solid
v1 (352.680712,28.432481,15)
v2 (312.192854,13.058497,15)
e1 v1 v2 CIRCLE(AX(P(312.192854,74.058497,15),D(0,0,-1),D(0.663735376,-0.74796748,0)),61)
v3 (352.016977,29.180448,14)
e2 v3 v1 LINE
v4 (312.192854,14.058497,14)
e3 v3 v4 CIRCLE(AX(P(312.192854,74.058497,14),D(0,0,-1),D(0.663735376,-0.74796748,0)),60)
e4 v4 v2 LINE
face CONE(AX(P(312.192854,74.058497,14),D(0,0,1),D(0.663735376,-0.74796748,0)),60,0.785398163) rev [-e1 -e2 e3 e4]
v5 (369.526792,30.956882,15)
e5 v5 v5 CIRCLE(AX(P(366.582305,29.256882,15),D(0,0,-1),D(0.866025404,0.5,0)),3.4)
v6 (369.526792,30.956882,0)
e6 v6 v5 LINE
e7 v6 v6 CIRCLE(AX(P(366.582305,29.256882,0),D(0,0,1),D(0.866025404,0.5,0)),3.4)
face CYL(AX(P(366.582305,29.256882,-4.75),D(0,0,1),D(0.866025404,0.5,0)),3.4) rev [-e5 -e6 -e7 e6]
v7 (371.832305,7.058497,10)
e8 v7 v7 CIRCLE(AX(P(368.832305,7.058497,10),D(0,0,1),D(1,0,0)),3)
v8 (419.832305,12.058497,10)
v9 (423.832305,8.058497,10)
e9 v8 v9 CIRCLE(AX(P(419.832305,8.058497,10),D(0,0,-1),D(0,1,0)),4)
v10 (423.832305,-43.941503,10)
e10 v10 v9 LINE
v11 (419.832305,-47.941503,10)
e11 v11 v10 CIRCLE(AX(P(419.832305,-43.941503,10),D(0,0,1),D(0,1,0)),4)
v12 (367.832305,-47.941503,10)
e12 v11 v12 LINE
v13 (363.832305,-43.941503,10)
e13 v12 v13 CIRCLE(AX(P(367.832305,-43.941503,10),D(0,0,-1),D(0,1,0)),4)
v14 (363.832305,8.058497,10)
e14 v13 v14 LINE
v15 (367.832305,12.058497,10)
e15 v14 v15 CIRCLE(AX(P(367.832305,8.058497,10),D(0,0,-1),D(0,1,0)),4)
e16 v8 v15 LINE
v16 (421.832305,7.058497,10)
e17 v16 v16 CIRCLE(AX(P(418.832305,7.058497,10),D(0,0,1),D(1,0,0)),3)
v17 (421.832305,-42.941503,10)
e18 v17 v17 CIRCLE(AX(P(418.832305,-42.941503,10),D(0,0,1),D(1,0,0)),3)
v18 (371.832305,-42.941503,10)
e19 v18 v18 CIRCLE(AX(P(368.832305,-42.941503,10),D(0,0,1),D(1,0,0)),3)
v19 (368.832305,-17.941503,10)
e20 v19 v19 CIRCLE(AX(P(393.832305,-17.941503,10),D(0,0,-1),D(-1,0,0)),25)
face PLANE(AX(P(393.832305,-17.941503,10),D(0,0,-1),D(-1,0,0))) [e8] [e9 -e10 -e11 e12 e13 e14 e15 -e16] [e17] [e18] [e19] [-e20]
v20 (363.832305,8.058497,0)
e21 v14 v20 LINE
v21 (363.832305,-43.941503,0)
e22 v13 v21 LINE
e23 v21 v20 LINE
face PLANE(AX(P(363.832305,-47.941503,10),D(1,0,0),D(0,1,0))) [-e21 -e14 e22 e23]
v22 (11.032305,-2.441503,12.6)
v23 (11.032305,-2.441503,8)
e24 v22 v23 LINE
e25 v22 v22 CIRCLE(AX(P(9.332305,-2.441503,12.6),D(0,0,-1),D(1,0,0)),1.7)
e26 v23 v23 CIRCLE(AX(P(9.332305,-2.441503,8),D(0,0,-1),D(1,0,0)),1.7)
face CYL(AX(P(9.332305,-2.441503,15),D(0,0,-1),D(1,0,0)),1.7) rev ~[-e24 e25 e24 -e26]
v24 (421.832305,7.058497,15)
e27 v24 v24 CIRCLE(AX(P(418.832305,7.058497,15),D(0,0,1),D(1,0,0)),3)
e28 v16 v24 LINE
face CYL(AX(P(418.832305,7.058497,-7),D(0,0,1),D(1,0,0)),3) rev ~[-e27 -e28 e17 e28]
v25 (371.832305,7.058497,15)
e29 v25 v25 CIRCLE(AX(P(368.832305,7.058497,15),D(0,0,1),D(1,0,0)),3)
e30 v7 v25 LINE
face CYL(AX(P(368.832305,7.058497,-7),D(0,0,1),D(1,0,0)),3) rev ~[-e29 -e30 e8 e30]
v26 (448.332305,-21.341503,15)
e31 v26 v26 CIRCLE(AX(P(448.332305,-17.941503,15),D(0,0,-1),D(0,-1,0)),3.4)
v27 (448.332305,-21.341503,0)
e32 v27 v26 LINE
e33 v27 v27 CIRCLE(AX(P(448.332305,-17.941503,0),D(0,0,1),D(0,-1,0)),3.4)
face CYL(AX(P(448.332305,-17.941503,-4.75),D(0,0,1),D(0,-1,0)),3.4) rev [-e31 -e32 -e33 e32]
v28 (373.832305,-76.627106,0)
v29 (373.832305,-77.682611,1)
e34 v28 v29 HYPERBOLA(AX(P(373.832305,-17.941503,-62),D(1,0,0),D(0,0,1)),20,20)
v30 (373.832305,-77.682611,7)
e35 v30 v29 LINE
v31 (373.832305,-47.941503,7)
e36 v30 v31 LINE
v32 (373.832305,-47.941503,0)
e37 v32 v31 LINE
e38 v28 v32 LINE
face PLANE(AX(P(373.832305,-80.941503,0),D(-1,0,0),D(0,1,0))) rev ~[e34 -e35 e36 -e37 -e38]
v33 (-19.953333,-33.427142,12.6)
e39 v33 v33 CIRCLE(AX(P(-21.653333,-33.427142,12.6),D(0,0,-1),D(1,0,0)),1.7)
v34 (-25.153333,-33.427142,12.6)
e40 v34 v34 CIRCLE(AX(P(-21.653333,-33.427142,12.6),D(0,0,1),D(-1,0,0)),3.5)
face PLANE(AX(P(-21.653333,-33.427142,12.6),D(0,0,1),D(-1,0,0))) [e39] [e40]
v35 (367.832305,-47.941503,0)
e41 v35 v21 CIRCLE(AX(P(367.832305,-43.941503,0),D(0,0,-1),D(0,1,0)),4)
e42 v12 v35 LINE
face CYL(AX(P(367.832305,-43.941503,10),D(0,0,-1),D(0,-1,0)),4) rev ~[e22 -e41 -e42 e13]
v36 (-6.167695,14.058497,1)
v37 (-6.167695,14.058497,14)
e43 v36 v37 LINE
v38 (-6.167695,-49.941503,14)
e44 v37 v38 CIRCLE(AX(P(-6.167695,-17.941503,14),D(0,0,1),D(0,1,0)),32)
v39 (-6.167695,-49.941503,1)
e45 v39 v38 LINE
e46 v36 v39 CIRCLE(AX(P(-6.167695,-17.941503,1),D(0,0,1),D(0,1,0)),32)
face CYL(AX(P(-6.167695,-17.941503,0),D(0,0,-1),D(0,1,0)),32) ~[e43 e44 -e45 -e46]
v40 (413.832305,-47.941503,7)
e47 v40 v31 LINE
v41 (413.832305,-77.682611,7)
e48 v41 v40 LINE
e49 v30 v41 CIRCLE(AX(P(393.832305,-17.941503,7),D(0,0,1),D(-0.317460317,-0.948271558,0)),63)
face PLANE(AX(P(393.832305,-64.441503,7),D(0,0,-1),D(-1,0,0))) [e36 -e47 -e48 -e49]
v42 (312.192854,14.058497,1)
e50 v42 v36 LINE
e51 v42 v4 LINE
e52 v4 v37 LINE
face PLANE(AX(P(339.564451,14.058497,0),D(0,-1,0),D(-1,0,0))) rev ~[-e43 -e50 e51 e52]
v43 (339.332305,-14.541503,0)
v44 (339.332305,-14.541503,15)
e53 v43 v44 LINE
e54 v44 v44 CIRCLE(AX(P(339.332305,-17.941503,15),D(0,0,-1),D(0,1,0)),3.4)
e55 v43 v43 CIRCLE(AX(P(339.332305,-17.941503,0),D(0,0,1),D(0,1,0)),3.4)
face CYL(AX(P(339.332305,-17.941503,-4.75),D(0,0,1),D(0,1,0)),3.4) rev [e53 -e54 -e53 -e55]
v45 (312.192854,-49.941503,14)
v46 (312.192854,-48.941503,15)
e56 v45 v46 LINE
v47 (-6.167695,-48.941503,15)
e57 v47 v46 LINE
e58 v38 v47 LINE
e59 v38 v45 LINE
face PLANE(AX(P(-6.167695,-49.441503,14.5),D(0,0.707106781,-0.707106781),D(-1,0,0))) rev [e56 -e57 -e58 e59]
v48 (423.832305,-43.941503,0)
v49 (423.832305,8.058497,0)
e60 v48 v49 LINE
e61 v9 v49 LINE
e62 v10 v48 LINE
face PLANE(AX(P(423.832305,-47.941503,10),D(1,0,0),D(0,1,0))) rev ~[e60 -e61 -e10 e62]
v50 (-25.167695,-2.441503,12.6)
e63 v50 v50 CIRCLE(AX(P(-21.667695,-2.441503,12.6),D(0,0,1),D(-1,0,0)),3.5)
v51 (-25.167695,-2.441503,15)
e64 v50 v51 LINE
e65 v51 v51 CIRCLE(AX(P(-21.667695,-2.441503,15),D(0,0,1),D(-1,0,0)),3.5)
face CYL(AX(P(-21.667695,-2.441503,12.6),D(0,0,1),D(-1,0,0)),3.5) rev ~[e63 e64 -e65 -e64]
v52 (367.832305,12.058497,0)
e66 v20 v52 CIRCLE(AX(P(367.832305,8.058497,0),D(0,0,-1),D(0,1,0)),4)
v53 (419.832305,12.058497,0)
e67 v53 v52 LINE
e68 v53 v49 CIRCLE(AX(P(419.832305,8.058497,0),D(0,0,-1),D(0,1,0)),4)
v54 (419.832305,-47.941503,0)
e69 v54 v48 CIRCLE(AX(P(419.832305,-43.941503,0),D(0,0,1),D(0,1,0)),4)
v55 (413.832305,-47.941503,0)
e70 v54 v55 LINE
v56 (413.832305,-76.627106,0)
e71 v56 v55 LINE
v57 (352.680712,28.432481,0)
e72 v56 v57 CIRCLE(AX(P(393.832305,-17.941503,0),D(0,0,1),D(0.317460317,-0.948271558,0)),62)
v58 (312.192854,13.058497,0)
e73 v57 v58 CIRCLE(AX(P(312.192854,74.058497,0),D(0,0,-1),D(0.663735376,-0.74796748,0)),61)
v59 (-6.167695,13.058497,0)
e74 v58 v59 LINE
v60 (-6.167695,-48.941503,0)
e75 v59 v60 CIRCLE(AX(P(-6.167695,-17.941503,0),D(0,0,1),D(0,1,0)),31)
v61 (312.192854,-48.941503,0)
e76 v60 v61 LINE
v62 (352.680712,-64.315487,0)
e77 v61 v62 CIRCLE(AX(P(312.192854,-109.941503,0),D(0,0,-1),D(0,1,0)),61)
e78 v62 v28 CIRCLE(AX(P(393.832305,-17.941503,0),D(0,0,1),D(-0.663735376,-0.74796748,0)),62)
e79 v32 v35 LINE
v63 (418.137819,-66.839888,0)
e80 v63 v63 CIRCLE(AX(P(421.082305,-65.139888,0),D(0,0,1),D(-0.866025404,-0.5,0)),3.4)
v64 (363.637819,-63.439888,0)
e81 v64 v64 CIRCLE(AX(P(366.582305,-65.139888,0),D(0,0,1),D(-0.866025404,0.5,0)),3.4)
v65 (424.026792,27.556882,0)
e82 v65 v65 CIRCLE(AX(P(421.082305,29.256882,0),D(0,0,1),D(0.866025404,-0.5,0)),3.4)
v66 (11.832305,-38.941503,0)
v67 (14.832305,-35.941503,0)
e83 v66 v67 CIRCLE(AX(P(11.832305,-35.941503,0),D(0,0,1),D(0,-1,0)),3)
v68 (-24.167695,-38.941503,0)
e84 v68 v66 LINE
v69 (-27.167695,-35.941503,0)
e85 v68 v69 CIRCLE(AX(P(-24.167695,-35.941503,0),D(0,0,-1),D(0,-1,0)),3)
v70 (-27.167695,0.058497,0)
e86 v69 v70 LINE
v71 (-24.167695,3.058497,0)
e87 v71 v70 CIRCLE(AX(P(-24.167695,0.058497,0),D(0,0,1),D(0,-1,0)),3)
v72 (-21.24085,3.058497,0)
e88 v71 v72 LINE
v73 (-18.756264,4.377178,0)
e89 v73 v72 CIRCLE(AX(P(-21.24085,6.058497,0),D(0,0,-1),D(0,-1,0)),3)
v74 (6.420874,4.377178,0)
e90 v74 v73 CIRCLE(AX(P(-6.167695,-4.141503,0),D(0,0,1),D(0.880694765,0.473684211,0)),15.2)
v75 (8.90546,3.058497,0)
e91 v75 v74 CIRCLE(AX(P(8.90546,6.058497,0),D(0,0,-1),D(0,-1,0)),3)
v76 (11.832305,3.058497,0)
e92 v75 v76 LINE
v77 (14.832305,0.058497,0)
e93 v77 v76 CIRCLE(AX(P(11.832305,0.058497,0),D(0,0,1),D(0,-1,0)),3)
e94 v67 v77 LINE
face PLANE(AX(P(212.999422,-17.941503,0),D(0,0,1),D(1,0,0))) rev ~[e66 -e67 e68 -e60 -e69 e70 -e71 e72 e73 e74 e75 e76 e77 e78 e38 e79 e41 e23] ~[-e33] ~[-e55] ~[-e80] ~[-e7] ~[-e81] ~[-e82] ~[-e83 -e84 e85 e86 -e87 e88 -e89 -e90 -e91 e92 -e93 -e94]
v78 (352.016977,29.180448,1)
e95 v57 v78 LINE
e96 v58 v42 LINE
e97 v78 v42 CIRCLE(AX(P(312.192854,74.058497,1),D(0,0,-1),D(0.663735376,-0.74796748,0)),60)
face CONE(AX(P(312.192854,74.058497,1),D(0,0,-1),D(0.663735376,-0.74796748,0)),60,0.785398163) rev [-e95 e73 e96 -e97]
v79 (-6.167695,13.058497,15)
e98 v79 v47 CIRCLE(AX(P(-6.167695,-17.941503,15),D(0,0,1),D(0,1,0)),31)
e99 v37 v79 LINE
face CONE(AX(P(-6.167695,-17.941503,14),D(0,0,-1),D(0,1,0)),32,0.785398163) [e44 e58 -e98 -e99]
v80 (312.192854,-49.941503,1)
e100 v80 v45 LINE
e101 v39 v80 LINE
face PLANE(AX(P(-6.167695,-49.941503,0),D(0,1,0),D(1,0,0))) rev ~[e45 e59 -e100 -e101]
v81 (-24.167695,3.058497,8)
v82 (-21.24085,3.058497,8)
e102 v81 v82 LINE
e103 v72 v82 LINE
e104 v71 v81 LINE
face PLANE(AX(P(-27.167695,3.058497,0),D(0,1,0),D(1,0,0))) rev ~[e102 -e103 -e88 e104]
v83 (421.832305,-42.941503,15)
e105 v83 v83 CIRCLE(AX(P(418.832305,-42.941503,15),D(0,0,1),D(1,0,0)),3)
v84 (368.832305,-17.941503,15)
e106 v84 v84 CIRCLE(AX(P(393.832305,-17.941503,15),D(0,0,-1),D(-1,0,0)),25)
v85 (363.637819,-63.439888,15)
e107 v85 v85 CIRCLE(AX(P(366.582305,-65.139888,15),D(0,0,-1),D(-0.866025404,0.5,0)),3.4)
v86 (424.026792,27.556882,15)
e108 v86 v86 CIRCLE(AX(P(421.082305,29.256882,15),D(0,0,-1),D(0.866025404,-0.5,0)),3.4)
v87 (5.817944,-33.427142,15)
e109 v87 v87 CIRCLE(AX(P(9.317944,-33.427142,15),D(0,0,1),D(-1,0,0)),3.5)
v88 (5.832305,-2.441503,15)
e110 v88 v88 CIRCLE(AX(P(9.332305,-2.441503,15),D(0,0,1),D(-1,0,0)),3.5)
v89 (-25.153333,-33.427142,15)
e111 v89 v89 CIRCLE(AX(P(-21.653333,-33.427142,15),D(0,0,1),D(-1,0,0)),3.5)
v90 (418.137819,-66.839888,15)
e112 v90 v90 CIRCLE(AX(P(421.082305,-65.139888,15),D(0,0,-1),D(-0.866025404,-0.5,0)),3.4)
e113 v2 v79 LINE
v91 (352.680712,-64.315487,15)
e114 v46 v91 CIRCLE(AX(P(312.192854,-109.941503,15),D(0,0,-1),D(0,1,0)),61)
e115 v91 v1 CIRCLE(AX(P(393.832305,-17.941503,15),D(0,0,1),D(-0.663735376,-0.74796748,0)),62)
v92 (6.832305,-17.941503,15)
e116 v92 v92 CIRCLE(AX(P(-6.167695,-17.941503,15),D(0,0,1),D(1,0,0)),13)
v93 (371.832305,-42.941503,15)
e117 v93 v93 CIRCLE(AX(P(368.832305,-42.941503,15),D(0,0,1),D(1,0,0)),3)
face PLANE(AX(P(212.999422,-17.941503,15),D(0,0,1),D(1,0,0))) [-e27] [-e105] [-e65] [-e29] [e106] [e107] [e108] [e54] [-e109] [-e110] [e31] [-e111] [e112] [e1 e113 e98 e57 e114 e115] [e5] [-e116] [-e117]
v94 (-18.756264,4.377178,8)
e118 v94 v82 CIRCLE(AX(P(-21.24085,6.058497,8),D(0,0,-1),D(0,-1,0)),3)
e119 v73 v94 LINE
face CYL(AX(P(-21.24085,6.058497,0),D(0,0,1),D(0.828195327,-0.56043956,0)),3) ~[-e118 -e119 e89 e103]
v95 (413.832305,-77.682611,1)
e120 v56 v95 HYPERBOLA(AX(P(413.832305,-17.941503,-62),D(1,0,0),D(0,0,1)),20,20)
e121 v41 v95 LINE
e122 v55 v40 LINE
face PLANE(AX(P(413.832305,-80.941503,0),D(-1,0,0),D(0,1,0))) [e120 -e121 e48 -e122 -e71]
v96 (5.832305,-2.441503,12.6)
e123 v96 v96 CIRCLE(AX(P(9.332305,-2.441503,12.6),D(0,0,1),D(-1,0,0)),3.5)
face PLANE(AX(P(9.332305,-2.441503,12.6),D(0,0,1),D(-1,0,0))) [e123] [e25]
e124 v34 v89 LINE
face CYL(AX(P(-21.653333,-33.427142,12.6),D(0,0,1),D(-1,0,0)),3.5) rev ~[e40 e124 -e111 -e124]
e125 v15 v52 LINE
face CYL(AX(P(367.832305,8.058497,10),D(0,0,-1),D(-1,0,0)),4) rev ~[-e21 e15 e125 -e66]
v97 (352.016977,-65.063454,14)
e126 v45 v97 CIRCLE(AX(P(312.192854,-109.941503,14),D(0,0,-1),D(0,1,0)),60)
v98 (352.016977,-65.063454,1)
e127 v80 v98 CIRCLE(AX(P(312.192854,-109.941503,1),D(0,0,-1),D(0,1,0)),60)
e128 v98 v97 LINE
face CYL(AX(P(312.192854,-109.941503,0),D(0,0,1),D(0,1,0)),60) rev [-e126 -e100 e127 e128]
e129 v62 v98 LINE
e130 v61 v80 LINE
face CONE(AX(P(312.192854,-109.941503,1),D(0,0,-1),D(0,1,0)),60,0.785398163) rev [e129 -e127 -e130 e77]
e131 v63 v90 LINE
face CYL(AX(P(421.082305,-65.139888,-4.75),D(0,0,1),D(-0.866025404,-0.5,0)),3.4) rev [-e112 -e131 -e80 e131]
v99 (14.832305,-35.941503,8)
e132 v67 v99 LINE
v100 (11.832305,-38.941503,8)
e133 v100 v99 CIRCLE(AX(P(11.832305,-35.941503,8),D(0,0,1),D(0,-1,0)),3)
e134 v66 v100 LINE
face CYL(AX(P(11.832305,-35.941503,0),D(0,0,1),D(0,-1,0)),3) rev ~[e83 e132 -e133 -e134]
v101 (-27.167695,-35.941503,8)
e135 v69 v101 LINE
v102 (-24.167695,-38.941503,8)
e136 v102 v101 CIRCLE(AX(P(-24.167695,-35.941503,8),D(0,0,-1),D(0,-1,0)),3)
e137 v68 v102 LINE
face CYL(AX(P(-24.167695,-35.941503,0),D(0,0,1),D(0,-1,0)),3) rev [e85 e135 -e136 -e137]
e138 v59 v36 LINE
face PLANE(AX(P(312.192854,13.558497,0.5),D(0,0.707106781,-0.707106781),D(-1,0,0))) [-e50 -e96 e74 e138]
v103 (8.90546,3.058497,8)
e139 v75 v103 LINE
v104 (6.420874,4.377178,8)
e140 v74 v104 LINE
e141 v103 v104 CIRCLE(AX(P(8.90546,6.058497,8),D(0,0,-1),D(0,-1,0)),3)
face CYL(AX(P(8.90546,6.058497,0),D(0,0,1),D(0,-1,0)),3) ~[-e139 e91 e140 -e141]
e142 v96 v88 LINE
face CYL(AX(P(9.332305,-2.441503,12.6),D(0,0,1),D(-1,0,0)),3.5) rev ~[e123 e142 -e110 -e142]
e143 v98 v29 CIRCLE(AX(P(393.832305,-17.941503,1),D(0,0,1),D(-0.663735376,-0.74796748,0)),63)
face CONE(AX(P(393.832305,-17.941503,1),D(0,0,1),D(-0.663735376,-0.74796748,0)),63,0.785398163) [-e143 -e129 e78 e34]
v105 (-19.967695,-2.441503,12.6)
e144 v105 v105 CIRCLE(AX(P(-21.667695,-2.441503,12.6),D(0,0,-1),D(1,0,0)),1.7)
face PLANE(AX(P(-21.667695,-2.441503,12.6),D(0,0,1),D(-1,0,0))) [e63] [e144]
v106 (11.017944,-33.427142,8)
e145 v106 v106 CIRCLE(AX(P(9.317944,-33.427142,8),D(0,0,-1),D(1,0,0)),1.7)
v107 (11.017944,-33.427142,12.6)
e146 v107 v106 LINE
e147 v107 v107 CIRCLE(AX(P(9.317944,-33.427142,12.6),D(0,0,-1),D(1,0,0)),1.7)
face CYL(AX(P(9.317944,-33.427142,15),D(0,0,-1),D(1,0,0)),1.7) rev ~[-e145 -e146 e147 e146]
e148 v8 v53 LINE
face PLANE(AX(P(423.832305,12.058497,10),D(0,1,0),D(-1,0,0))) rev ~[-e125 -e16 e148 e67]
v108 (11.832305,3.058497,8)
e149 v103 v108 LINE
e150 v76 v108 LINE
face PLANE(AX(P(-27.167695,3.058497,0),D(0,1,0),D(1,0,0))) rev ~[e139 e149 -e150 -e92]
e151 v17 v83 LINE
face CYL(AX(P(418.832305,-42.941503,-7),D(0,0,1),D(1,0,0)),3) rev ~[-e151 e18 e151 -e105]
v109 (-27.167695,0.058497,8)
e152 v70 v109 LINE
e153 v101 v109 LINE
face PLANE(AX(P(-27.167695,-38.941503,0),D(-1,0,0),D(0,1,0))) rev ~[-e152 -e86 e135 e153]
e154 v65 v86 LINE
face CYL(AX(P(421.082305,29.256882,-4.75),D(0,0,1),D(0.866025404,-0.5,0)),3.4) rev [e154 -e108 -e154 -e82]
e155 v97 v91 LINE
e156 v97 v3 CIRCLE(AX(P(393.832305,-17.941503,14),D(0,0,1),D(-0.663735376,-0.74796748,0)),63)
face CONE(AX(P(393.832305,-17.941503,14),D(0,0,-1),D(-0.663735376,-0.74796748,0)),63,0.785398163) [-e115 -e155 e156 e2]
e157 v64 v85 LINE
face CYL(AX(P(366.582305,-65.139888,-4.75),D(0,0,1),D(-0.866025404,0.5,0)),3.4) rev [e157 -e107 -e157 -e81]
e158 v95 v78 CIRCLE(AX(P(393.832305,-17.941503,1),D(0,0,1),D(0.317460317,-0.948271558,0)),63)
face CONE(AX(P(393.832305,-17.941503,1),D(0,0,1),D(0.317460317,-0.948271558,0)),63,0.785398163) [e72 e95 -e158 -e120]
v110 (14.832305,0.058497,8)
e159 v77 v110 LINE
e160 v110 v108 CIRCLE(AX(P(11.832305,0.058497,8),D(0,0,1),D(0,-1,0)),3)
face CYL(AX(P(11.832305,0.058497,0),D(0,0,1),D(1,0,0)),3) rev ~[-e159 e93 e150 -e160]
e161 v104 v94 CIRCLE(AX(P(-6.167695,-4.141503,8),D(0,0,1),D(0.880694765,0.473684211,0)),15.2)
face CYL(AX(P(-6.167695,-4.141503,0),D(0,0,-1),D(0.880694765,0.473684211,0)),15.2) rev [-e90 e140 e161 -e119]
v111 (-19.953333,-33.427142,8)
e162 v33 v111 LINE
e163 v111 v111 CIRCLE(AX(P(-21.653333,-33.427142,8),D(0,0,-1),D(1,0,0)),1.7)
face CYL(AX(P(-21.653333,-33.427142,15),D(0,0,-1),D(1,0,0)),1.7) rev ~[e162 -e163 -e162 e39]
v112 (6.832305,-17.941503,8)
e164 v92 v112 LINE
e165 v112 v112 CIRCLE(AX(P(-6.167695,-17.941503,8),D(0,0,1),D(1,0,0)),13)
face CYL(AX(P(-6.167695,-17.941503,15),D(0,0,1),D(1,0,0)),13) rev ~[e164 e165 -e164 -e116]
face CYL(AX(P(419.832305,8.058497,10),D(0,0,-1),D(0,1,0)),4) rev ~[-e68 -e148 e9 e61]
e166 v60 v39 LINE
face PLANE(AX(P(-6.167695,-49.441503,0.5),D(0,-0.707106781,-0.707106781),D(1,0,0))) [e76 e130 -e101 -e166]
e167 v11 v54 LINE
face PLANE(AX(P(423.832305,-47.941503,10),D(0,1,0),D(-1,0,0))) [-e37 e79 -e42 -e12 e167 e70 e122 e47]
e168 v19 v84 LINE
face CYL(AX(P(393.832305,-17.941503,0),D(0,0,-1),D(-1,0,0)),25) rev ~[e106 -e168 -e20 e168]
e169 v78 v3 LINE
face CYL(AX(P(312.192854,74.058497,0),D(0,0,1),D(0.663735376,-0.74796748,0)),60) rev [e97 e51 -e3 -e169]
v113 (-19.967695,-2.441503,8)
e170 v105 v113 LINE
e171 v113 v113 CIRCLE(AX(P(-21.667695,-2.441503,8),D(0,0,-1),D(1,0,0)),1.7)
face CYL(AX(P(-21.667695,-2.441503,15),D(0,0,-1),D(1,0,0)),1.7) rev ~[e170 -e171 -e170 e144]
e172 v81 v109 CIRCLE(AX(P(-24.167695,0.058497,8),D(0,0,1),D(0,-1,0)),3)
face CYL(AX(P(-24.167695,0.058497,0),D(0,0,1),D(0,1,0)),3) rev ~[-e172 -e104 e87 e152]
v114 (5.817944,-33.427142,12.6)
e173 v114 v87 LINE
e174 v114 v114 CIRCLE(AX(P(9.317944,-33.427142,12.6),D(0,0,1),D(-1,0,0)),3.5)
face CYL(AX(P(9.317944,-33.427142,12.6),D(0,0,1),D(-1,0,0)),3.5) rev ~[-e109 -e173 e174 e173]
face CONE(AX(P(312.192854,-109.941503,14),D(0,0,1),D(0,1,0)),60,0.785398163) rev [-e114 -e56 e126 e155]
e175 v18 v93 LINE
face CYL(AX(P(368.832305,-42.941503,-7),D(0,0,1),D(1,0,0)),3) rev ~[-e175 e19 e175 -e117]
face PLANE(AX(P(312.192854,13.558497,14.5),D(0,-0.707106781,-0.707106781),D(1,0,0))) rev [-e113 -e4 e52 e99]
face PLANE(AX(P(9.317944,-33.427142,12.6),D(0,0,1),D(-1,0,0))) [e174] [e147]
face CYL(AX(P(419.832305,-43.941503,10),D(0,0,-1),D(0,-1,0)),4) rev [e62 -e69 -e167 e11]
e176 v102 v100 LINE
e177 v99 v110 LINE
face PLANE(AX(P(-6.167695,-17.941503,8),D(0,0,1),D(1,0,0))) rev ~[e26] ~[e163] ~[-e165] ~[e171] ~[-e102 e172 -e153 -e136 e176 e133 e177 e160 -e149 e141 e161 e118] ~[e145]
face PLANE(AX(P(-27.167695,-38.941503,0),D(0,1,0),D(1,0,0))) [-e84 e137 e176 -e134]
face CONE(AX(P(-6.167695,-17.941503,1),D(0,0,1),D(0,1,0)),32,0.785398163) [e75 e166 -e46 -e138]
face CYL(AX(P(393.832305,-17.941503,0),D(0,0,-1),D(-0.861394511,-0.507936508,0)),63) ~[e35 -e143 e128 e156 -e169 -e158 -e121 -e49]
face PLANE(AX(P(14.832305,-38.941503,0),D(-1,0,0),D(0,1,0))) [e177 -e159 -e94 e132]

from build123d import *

# Parameters (mm, degrees)
BOSS_EXTRUDE1_DEPTH                      = 15
FILLET1_R                                = 60
SKETCH_2_R                               = 25
CUT_EXTRUDE_2_DEPTH                      = 16
CUT_EXTRUDE_START                        = -10
SKETCH_1_W                               = 60
SKETCH_1_H                               = 60
CUT_EXTRUDE_1_DEPTH                      = 10
SKETCH_3_W                               = 40
SKETCH_3_H                               = 33
CUT_EXTRUDE_3_DEPTH                      = 7
M7X1_0_1_D                               = 6
M7X1_0_1_DEPTH                           = 17
M7X1_0_1_TIP                             = 1.802581857
PATTERN_CIRCULAR_1_COUNT                 = 6
SKETCH5_R                                = 13
CUT_EXTRUDE2_DEPTH                       = 16
CUT_EXTRUDE1_START                       = -15
SKETCH4_W                                = 42
SKETCH4_H                                = 42
CUT_EXTRUDE1_DEPTH                       = 8
CUT_EXTRUDE3_START                       = -15
CUT_EXTRUDE3_DEPTH                       = 8
FILLET2_R                                = 3
CHAMFER1_SIZE                            = 1
CBORE_FOR_M3_PAN_HEAD_SCREW1_D           = 3.4
CBORE_FOR_M3_PAN_HEAD_SCREW1_CBORE_D     = 7
CBORE_FOR_M3_PAN_HEAD_SCREW1_CBORE_DEPTH = 2.4
FILLET6_R                                = 4


with BuildPart() as part:
    # Sketch2 → Boss-Extrude1 (new body)
    with BuildSketch(Plane.XY):
        with BuildLine():
            Line((-6.167694754, -49.941502997), (339.564451041, -49.941502997))
            ThreePointArc((339.564451041, -49.941502997), (456.832305246, -17.941502997), (339.564451041, 14.058497003))
            Line((339.564451041, 14.058497003), (-6.167694754, 14.058497003))
            ThreePointArc((-6.167694754, 14.058497003), (-38.167694754, -17.941502997), (-6.167694754, -49.941502997))
        make_face()
    extrude(amount=BOSS_EXTRUDE1_DEPTH)

    # Fillet1
    fillet1_edges = [part.edges().sort_by_distance(p)[0] for p in [
        (339.564451041, 14.058497003, 7.5),
        (339.564451041, -49.941502997, 7.5),
    ]]
    fillet(fillet1_edges, radius=FILLET1_R)

    # 草圖2 → 除料-伸長2 (cut, through all)
    with BuildSketch(Plane(origin=(0, 0, 0), x_dir=(-1, 0, 0), z_dir=(0, 0, -1))):
        with Locations((-393.832305246, -17.941502997)):
            Circle(SKETCH_2_R)
    extrude(amount=-CUT_EXTRUDE_2_DEPTH, mode=Mode.SUBTRACT)

    # 草圖1 → 除料-伸長1 (cut)
    with BuildSketch(Plane(origin=(0, 0, 0), x_dir=(-1, 0, 0), z_dir=(0, 0, -1)).offset(CUT_EXTRUDE_START)):
        with Locations((-393.832305246, -17.941502997)):
            Rectangle(SKETCH_1_W, SKETCH_1_H)
    extrude(amount=CUT_EXTRUDE_1_DEPTH, mode=Mode.SUBTRACT)

    # 草圖3 → 除料-伸長3 (cut)
    with BuildSketch(Plane(origin=(0, 0, 0), x_dir=(-1, 0, 0), z_dir=(0, 0, -1))):
        with Locations((-393.832305246, -64.441502997)):
            Rectangle(SKETCH_3_W, SKETCH_3_H)
    extrude(amount=-CUT_EXTRUDE_3_DEPTH, mode=Mode.SUBTRACT)

    # M7x1.0 螺紋孔1
    with Locations(Plane(origin=(0, 0, 10), x_dir=(-1, 0, 0), z_dir=(0, 0, -1))):
        with Locations((-368.832305246, 7.058497003), (-368.832305246, -42.941502997), (-418.832305246, -42.941502997), (-418.832305246, 7.058497003)):
            Hole(M7X1_0_1_D / 2, depth=M7X1_0_1_DEPTH)
            with Locations((0, 0, -(M7X1_0_1_DEPTH + M7X1_0_1_TIP / 2))):  # 118° drill point
                Cone(0, M7X1_0_1_D / 2, M7X1_0_1_TIP, mode=Mode.SUBTRACT)

    # 草圖8 → M8x1.25 螺紋孔1 (revolve, cut)
    with BuildSketch(Plane(origin=(448.332305246, -17.941502997, 15), x_dir=(0, -1, 0), z_dir=(1, 0, 0))):
        Polygon((0, 0), (0, 21.792926105), (3.4, 19.75), (3.4, 0), align=None)
    m8x1_25_1 = revolve(axis=Axis((448.332305246, -17.941502997, 21.35), (0, 0, -1)), mode=Mode.SUBTRACT)

    # 環狀複製排列1: M8x1.25 螺紋孔1 ×6 about axis
    pattern_circular_1_axis = Axis((393.832305246, -17.941502997, 0), (0, 0, 1))
    for i in range(1, PATTERN_CIRCULAR_1_COUNT):
        add(m8x1_25_1.rotate(pattern_circular_1_axis, i * 360 / PATTERN_CIRCULAR_1_COUNT), mode=Mode.SUBTRACT)

    # Sketch5 → Cut-Extrude2 (cut, through all)
    with BuildSketch(Plane.XY.offset(15)):
        with Locations((-6.167694754, -17.941502997)):
            Circle(SKETCH5_R)
    extrude(amount=-CUT_EXTRUDE2_DEPTH, mode=Mode.SUBTRACT)

    # Sketch4 → Cut-Extrude1 (cut)
    with BuildSketch(Plane.XY.offset(15).offset(CUT_EXTRUDE1_START)):
        with Locations((-6.167694754, -17.941502997)):
            Rectangle(SKETCH4_W, SKETCH4_H)
    extrude(amount=CUT_EXTRUDE1_DEPTH, mode=Mode.SUBTRACT)

    # Sketch8 → Cut-Extrude3 (cut)
    with BuildSketch(Plane.XY.offset(15).offset(CUT_EXTRUDE3_START)):
        with BuildLine():
            Line((-19.554255179, 3.058497003), (7.21886567, 3.058497003))
            ThreePointArc((7.21886567, 3.058497003), (-6.167694754, 11.058497003), (-19.554255179, 3.058497003))
        make_face()
    extrude(amount=CUT_EXTRUDE3_DEPTH, mode=Mode.SUBTRACT)

    # Fillet2
    fillet2_edges = [part.edges().sort_by_distance(p)[0] for p in [
        (-27.167694754, 3.058497003, 4),
        (-27.167694754, -38.941502997, 4),
        (14.832305246, -38.941502997, 4),
        (14.832305246, 3.058497003, 4),
        (7.21886567, 3.058497003, 4),
        (-19.554255179, 3.058497003, 4),
    ]]
    fillet(fillet2_edges, radius=FILLET2_R)

    # Chamfer1
    chamfer1_edges = [part.edges().sort_by_distance(p)[0] for p in [
        (153.012579622, 14.058497003, 0),
        (153.012579622, 14.058497003, 15),
        (362.287186837, -72.475029424, 0),
        (456.832305246, -17.941502997, 15),
        (333.492115408, 17.966238505, 0),
        (333.492115408, 17.966238505, 15),
        (333.492115408, -53.849244499, 0),
        (333.492115408, -53.849244499, 15),
        (-38.167694754, -17.941502997, 15),
        (448.365831673, 13.603615412, 0),
        (153.012579622, -49.941502997, 0),
        (-38.167694754, -17.941502997, 0),
        (153.012579622, -49.941502997, 15),
    ]]
    chamfer(chamfer1_edges, length=CHAMFER1_SIZE)

    # CBORE for M3 Pan Head Screw1 (through all)
    with Locations(Plane(origin=(0, 0, 15), x_dir=(-1, 0, 0), z_dir=(0, 0, 1))):
        with Locations((21.667694754, 2.441502997), (21.653333262, 33.427141505), (-9.317943754, 33.427141505), (-9.332305246, 2.441502997)):
            CounterBoreHole(CBORE_FOR_M3_PAN_HEAD_SCREW1_D / 2, CBORE_FOR_M3_PAN_HEAD_SCREW1_CBORE_D / 2, CBORE_FOR_M3_PAN_HEAD_SCREW1_CBORE_DEPTH)

    # Fillet6
    fillet6_edges = [part.edges().sort_by_distance(p)[0] for p in [
        (363.832305246, -47.941502997, 5),
        (363.832305246, 12.058497003, 5),
        (423.832305246, 12.058497003, 5),
        (423.832305246, -47.941502997, 5),
    ]]
    fillet(fillet6_edges, radius=FILLET6_R)


solid = part.part
